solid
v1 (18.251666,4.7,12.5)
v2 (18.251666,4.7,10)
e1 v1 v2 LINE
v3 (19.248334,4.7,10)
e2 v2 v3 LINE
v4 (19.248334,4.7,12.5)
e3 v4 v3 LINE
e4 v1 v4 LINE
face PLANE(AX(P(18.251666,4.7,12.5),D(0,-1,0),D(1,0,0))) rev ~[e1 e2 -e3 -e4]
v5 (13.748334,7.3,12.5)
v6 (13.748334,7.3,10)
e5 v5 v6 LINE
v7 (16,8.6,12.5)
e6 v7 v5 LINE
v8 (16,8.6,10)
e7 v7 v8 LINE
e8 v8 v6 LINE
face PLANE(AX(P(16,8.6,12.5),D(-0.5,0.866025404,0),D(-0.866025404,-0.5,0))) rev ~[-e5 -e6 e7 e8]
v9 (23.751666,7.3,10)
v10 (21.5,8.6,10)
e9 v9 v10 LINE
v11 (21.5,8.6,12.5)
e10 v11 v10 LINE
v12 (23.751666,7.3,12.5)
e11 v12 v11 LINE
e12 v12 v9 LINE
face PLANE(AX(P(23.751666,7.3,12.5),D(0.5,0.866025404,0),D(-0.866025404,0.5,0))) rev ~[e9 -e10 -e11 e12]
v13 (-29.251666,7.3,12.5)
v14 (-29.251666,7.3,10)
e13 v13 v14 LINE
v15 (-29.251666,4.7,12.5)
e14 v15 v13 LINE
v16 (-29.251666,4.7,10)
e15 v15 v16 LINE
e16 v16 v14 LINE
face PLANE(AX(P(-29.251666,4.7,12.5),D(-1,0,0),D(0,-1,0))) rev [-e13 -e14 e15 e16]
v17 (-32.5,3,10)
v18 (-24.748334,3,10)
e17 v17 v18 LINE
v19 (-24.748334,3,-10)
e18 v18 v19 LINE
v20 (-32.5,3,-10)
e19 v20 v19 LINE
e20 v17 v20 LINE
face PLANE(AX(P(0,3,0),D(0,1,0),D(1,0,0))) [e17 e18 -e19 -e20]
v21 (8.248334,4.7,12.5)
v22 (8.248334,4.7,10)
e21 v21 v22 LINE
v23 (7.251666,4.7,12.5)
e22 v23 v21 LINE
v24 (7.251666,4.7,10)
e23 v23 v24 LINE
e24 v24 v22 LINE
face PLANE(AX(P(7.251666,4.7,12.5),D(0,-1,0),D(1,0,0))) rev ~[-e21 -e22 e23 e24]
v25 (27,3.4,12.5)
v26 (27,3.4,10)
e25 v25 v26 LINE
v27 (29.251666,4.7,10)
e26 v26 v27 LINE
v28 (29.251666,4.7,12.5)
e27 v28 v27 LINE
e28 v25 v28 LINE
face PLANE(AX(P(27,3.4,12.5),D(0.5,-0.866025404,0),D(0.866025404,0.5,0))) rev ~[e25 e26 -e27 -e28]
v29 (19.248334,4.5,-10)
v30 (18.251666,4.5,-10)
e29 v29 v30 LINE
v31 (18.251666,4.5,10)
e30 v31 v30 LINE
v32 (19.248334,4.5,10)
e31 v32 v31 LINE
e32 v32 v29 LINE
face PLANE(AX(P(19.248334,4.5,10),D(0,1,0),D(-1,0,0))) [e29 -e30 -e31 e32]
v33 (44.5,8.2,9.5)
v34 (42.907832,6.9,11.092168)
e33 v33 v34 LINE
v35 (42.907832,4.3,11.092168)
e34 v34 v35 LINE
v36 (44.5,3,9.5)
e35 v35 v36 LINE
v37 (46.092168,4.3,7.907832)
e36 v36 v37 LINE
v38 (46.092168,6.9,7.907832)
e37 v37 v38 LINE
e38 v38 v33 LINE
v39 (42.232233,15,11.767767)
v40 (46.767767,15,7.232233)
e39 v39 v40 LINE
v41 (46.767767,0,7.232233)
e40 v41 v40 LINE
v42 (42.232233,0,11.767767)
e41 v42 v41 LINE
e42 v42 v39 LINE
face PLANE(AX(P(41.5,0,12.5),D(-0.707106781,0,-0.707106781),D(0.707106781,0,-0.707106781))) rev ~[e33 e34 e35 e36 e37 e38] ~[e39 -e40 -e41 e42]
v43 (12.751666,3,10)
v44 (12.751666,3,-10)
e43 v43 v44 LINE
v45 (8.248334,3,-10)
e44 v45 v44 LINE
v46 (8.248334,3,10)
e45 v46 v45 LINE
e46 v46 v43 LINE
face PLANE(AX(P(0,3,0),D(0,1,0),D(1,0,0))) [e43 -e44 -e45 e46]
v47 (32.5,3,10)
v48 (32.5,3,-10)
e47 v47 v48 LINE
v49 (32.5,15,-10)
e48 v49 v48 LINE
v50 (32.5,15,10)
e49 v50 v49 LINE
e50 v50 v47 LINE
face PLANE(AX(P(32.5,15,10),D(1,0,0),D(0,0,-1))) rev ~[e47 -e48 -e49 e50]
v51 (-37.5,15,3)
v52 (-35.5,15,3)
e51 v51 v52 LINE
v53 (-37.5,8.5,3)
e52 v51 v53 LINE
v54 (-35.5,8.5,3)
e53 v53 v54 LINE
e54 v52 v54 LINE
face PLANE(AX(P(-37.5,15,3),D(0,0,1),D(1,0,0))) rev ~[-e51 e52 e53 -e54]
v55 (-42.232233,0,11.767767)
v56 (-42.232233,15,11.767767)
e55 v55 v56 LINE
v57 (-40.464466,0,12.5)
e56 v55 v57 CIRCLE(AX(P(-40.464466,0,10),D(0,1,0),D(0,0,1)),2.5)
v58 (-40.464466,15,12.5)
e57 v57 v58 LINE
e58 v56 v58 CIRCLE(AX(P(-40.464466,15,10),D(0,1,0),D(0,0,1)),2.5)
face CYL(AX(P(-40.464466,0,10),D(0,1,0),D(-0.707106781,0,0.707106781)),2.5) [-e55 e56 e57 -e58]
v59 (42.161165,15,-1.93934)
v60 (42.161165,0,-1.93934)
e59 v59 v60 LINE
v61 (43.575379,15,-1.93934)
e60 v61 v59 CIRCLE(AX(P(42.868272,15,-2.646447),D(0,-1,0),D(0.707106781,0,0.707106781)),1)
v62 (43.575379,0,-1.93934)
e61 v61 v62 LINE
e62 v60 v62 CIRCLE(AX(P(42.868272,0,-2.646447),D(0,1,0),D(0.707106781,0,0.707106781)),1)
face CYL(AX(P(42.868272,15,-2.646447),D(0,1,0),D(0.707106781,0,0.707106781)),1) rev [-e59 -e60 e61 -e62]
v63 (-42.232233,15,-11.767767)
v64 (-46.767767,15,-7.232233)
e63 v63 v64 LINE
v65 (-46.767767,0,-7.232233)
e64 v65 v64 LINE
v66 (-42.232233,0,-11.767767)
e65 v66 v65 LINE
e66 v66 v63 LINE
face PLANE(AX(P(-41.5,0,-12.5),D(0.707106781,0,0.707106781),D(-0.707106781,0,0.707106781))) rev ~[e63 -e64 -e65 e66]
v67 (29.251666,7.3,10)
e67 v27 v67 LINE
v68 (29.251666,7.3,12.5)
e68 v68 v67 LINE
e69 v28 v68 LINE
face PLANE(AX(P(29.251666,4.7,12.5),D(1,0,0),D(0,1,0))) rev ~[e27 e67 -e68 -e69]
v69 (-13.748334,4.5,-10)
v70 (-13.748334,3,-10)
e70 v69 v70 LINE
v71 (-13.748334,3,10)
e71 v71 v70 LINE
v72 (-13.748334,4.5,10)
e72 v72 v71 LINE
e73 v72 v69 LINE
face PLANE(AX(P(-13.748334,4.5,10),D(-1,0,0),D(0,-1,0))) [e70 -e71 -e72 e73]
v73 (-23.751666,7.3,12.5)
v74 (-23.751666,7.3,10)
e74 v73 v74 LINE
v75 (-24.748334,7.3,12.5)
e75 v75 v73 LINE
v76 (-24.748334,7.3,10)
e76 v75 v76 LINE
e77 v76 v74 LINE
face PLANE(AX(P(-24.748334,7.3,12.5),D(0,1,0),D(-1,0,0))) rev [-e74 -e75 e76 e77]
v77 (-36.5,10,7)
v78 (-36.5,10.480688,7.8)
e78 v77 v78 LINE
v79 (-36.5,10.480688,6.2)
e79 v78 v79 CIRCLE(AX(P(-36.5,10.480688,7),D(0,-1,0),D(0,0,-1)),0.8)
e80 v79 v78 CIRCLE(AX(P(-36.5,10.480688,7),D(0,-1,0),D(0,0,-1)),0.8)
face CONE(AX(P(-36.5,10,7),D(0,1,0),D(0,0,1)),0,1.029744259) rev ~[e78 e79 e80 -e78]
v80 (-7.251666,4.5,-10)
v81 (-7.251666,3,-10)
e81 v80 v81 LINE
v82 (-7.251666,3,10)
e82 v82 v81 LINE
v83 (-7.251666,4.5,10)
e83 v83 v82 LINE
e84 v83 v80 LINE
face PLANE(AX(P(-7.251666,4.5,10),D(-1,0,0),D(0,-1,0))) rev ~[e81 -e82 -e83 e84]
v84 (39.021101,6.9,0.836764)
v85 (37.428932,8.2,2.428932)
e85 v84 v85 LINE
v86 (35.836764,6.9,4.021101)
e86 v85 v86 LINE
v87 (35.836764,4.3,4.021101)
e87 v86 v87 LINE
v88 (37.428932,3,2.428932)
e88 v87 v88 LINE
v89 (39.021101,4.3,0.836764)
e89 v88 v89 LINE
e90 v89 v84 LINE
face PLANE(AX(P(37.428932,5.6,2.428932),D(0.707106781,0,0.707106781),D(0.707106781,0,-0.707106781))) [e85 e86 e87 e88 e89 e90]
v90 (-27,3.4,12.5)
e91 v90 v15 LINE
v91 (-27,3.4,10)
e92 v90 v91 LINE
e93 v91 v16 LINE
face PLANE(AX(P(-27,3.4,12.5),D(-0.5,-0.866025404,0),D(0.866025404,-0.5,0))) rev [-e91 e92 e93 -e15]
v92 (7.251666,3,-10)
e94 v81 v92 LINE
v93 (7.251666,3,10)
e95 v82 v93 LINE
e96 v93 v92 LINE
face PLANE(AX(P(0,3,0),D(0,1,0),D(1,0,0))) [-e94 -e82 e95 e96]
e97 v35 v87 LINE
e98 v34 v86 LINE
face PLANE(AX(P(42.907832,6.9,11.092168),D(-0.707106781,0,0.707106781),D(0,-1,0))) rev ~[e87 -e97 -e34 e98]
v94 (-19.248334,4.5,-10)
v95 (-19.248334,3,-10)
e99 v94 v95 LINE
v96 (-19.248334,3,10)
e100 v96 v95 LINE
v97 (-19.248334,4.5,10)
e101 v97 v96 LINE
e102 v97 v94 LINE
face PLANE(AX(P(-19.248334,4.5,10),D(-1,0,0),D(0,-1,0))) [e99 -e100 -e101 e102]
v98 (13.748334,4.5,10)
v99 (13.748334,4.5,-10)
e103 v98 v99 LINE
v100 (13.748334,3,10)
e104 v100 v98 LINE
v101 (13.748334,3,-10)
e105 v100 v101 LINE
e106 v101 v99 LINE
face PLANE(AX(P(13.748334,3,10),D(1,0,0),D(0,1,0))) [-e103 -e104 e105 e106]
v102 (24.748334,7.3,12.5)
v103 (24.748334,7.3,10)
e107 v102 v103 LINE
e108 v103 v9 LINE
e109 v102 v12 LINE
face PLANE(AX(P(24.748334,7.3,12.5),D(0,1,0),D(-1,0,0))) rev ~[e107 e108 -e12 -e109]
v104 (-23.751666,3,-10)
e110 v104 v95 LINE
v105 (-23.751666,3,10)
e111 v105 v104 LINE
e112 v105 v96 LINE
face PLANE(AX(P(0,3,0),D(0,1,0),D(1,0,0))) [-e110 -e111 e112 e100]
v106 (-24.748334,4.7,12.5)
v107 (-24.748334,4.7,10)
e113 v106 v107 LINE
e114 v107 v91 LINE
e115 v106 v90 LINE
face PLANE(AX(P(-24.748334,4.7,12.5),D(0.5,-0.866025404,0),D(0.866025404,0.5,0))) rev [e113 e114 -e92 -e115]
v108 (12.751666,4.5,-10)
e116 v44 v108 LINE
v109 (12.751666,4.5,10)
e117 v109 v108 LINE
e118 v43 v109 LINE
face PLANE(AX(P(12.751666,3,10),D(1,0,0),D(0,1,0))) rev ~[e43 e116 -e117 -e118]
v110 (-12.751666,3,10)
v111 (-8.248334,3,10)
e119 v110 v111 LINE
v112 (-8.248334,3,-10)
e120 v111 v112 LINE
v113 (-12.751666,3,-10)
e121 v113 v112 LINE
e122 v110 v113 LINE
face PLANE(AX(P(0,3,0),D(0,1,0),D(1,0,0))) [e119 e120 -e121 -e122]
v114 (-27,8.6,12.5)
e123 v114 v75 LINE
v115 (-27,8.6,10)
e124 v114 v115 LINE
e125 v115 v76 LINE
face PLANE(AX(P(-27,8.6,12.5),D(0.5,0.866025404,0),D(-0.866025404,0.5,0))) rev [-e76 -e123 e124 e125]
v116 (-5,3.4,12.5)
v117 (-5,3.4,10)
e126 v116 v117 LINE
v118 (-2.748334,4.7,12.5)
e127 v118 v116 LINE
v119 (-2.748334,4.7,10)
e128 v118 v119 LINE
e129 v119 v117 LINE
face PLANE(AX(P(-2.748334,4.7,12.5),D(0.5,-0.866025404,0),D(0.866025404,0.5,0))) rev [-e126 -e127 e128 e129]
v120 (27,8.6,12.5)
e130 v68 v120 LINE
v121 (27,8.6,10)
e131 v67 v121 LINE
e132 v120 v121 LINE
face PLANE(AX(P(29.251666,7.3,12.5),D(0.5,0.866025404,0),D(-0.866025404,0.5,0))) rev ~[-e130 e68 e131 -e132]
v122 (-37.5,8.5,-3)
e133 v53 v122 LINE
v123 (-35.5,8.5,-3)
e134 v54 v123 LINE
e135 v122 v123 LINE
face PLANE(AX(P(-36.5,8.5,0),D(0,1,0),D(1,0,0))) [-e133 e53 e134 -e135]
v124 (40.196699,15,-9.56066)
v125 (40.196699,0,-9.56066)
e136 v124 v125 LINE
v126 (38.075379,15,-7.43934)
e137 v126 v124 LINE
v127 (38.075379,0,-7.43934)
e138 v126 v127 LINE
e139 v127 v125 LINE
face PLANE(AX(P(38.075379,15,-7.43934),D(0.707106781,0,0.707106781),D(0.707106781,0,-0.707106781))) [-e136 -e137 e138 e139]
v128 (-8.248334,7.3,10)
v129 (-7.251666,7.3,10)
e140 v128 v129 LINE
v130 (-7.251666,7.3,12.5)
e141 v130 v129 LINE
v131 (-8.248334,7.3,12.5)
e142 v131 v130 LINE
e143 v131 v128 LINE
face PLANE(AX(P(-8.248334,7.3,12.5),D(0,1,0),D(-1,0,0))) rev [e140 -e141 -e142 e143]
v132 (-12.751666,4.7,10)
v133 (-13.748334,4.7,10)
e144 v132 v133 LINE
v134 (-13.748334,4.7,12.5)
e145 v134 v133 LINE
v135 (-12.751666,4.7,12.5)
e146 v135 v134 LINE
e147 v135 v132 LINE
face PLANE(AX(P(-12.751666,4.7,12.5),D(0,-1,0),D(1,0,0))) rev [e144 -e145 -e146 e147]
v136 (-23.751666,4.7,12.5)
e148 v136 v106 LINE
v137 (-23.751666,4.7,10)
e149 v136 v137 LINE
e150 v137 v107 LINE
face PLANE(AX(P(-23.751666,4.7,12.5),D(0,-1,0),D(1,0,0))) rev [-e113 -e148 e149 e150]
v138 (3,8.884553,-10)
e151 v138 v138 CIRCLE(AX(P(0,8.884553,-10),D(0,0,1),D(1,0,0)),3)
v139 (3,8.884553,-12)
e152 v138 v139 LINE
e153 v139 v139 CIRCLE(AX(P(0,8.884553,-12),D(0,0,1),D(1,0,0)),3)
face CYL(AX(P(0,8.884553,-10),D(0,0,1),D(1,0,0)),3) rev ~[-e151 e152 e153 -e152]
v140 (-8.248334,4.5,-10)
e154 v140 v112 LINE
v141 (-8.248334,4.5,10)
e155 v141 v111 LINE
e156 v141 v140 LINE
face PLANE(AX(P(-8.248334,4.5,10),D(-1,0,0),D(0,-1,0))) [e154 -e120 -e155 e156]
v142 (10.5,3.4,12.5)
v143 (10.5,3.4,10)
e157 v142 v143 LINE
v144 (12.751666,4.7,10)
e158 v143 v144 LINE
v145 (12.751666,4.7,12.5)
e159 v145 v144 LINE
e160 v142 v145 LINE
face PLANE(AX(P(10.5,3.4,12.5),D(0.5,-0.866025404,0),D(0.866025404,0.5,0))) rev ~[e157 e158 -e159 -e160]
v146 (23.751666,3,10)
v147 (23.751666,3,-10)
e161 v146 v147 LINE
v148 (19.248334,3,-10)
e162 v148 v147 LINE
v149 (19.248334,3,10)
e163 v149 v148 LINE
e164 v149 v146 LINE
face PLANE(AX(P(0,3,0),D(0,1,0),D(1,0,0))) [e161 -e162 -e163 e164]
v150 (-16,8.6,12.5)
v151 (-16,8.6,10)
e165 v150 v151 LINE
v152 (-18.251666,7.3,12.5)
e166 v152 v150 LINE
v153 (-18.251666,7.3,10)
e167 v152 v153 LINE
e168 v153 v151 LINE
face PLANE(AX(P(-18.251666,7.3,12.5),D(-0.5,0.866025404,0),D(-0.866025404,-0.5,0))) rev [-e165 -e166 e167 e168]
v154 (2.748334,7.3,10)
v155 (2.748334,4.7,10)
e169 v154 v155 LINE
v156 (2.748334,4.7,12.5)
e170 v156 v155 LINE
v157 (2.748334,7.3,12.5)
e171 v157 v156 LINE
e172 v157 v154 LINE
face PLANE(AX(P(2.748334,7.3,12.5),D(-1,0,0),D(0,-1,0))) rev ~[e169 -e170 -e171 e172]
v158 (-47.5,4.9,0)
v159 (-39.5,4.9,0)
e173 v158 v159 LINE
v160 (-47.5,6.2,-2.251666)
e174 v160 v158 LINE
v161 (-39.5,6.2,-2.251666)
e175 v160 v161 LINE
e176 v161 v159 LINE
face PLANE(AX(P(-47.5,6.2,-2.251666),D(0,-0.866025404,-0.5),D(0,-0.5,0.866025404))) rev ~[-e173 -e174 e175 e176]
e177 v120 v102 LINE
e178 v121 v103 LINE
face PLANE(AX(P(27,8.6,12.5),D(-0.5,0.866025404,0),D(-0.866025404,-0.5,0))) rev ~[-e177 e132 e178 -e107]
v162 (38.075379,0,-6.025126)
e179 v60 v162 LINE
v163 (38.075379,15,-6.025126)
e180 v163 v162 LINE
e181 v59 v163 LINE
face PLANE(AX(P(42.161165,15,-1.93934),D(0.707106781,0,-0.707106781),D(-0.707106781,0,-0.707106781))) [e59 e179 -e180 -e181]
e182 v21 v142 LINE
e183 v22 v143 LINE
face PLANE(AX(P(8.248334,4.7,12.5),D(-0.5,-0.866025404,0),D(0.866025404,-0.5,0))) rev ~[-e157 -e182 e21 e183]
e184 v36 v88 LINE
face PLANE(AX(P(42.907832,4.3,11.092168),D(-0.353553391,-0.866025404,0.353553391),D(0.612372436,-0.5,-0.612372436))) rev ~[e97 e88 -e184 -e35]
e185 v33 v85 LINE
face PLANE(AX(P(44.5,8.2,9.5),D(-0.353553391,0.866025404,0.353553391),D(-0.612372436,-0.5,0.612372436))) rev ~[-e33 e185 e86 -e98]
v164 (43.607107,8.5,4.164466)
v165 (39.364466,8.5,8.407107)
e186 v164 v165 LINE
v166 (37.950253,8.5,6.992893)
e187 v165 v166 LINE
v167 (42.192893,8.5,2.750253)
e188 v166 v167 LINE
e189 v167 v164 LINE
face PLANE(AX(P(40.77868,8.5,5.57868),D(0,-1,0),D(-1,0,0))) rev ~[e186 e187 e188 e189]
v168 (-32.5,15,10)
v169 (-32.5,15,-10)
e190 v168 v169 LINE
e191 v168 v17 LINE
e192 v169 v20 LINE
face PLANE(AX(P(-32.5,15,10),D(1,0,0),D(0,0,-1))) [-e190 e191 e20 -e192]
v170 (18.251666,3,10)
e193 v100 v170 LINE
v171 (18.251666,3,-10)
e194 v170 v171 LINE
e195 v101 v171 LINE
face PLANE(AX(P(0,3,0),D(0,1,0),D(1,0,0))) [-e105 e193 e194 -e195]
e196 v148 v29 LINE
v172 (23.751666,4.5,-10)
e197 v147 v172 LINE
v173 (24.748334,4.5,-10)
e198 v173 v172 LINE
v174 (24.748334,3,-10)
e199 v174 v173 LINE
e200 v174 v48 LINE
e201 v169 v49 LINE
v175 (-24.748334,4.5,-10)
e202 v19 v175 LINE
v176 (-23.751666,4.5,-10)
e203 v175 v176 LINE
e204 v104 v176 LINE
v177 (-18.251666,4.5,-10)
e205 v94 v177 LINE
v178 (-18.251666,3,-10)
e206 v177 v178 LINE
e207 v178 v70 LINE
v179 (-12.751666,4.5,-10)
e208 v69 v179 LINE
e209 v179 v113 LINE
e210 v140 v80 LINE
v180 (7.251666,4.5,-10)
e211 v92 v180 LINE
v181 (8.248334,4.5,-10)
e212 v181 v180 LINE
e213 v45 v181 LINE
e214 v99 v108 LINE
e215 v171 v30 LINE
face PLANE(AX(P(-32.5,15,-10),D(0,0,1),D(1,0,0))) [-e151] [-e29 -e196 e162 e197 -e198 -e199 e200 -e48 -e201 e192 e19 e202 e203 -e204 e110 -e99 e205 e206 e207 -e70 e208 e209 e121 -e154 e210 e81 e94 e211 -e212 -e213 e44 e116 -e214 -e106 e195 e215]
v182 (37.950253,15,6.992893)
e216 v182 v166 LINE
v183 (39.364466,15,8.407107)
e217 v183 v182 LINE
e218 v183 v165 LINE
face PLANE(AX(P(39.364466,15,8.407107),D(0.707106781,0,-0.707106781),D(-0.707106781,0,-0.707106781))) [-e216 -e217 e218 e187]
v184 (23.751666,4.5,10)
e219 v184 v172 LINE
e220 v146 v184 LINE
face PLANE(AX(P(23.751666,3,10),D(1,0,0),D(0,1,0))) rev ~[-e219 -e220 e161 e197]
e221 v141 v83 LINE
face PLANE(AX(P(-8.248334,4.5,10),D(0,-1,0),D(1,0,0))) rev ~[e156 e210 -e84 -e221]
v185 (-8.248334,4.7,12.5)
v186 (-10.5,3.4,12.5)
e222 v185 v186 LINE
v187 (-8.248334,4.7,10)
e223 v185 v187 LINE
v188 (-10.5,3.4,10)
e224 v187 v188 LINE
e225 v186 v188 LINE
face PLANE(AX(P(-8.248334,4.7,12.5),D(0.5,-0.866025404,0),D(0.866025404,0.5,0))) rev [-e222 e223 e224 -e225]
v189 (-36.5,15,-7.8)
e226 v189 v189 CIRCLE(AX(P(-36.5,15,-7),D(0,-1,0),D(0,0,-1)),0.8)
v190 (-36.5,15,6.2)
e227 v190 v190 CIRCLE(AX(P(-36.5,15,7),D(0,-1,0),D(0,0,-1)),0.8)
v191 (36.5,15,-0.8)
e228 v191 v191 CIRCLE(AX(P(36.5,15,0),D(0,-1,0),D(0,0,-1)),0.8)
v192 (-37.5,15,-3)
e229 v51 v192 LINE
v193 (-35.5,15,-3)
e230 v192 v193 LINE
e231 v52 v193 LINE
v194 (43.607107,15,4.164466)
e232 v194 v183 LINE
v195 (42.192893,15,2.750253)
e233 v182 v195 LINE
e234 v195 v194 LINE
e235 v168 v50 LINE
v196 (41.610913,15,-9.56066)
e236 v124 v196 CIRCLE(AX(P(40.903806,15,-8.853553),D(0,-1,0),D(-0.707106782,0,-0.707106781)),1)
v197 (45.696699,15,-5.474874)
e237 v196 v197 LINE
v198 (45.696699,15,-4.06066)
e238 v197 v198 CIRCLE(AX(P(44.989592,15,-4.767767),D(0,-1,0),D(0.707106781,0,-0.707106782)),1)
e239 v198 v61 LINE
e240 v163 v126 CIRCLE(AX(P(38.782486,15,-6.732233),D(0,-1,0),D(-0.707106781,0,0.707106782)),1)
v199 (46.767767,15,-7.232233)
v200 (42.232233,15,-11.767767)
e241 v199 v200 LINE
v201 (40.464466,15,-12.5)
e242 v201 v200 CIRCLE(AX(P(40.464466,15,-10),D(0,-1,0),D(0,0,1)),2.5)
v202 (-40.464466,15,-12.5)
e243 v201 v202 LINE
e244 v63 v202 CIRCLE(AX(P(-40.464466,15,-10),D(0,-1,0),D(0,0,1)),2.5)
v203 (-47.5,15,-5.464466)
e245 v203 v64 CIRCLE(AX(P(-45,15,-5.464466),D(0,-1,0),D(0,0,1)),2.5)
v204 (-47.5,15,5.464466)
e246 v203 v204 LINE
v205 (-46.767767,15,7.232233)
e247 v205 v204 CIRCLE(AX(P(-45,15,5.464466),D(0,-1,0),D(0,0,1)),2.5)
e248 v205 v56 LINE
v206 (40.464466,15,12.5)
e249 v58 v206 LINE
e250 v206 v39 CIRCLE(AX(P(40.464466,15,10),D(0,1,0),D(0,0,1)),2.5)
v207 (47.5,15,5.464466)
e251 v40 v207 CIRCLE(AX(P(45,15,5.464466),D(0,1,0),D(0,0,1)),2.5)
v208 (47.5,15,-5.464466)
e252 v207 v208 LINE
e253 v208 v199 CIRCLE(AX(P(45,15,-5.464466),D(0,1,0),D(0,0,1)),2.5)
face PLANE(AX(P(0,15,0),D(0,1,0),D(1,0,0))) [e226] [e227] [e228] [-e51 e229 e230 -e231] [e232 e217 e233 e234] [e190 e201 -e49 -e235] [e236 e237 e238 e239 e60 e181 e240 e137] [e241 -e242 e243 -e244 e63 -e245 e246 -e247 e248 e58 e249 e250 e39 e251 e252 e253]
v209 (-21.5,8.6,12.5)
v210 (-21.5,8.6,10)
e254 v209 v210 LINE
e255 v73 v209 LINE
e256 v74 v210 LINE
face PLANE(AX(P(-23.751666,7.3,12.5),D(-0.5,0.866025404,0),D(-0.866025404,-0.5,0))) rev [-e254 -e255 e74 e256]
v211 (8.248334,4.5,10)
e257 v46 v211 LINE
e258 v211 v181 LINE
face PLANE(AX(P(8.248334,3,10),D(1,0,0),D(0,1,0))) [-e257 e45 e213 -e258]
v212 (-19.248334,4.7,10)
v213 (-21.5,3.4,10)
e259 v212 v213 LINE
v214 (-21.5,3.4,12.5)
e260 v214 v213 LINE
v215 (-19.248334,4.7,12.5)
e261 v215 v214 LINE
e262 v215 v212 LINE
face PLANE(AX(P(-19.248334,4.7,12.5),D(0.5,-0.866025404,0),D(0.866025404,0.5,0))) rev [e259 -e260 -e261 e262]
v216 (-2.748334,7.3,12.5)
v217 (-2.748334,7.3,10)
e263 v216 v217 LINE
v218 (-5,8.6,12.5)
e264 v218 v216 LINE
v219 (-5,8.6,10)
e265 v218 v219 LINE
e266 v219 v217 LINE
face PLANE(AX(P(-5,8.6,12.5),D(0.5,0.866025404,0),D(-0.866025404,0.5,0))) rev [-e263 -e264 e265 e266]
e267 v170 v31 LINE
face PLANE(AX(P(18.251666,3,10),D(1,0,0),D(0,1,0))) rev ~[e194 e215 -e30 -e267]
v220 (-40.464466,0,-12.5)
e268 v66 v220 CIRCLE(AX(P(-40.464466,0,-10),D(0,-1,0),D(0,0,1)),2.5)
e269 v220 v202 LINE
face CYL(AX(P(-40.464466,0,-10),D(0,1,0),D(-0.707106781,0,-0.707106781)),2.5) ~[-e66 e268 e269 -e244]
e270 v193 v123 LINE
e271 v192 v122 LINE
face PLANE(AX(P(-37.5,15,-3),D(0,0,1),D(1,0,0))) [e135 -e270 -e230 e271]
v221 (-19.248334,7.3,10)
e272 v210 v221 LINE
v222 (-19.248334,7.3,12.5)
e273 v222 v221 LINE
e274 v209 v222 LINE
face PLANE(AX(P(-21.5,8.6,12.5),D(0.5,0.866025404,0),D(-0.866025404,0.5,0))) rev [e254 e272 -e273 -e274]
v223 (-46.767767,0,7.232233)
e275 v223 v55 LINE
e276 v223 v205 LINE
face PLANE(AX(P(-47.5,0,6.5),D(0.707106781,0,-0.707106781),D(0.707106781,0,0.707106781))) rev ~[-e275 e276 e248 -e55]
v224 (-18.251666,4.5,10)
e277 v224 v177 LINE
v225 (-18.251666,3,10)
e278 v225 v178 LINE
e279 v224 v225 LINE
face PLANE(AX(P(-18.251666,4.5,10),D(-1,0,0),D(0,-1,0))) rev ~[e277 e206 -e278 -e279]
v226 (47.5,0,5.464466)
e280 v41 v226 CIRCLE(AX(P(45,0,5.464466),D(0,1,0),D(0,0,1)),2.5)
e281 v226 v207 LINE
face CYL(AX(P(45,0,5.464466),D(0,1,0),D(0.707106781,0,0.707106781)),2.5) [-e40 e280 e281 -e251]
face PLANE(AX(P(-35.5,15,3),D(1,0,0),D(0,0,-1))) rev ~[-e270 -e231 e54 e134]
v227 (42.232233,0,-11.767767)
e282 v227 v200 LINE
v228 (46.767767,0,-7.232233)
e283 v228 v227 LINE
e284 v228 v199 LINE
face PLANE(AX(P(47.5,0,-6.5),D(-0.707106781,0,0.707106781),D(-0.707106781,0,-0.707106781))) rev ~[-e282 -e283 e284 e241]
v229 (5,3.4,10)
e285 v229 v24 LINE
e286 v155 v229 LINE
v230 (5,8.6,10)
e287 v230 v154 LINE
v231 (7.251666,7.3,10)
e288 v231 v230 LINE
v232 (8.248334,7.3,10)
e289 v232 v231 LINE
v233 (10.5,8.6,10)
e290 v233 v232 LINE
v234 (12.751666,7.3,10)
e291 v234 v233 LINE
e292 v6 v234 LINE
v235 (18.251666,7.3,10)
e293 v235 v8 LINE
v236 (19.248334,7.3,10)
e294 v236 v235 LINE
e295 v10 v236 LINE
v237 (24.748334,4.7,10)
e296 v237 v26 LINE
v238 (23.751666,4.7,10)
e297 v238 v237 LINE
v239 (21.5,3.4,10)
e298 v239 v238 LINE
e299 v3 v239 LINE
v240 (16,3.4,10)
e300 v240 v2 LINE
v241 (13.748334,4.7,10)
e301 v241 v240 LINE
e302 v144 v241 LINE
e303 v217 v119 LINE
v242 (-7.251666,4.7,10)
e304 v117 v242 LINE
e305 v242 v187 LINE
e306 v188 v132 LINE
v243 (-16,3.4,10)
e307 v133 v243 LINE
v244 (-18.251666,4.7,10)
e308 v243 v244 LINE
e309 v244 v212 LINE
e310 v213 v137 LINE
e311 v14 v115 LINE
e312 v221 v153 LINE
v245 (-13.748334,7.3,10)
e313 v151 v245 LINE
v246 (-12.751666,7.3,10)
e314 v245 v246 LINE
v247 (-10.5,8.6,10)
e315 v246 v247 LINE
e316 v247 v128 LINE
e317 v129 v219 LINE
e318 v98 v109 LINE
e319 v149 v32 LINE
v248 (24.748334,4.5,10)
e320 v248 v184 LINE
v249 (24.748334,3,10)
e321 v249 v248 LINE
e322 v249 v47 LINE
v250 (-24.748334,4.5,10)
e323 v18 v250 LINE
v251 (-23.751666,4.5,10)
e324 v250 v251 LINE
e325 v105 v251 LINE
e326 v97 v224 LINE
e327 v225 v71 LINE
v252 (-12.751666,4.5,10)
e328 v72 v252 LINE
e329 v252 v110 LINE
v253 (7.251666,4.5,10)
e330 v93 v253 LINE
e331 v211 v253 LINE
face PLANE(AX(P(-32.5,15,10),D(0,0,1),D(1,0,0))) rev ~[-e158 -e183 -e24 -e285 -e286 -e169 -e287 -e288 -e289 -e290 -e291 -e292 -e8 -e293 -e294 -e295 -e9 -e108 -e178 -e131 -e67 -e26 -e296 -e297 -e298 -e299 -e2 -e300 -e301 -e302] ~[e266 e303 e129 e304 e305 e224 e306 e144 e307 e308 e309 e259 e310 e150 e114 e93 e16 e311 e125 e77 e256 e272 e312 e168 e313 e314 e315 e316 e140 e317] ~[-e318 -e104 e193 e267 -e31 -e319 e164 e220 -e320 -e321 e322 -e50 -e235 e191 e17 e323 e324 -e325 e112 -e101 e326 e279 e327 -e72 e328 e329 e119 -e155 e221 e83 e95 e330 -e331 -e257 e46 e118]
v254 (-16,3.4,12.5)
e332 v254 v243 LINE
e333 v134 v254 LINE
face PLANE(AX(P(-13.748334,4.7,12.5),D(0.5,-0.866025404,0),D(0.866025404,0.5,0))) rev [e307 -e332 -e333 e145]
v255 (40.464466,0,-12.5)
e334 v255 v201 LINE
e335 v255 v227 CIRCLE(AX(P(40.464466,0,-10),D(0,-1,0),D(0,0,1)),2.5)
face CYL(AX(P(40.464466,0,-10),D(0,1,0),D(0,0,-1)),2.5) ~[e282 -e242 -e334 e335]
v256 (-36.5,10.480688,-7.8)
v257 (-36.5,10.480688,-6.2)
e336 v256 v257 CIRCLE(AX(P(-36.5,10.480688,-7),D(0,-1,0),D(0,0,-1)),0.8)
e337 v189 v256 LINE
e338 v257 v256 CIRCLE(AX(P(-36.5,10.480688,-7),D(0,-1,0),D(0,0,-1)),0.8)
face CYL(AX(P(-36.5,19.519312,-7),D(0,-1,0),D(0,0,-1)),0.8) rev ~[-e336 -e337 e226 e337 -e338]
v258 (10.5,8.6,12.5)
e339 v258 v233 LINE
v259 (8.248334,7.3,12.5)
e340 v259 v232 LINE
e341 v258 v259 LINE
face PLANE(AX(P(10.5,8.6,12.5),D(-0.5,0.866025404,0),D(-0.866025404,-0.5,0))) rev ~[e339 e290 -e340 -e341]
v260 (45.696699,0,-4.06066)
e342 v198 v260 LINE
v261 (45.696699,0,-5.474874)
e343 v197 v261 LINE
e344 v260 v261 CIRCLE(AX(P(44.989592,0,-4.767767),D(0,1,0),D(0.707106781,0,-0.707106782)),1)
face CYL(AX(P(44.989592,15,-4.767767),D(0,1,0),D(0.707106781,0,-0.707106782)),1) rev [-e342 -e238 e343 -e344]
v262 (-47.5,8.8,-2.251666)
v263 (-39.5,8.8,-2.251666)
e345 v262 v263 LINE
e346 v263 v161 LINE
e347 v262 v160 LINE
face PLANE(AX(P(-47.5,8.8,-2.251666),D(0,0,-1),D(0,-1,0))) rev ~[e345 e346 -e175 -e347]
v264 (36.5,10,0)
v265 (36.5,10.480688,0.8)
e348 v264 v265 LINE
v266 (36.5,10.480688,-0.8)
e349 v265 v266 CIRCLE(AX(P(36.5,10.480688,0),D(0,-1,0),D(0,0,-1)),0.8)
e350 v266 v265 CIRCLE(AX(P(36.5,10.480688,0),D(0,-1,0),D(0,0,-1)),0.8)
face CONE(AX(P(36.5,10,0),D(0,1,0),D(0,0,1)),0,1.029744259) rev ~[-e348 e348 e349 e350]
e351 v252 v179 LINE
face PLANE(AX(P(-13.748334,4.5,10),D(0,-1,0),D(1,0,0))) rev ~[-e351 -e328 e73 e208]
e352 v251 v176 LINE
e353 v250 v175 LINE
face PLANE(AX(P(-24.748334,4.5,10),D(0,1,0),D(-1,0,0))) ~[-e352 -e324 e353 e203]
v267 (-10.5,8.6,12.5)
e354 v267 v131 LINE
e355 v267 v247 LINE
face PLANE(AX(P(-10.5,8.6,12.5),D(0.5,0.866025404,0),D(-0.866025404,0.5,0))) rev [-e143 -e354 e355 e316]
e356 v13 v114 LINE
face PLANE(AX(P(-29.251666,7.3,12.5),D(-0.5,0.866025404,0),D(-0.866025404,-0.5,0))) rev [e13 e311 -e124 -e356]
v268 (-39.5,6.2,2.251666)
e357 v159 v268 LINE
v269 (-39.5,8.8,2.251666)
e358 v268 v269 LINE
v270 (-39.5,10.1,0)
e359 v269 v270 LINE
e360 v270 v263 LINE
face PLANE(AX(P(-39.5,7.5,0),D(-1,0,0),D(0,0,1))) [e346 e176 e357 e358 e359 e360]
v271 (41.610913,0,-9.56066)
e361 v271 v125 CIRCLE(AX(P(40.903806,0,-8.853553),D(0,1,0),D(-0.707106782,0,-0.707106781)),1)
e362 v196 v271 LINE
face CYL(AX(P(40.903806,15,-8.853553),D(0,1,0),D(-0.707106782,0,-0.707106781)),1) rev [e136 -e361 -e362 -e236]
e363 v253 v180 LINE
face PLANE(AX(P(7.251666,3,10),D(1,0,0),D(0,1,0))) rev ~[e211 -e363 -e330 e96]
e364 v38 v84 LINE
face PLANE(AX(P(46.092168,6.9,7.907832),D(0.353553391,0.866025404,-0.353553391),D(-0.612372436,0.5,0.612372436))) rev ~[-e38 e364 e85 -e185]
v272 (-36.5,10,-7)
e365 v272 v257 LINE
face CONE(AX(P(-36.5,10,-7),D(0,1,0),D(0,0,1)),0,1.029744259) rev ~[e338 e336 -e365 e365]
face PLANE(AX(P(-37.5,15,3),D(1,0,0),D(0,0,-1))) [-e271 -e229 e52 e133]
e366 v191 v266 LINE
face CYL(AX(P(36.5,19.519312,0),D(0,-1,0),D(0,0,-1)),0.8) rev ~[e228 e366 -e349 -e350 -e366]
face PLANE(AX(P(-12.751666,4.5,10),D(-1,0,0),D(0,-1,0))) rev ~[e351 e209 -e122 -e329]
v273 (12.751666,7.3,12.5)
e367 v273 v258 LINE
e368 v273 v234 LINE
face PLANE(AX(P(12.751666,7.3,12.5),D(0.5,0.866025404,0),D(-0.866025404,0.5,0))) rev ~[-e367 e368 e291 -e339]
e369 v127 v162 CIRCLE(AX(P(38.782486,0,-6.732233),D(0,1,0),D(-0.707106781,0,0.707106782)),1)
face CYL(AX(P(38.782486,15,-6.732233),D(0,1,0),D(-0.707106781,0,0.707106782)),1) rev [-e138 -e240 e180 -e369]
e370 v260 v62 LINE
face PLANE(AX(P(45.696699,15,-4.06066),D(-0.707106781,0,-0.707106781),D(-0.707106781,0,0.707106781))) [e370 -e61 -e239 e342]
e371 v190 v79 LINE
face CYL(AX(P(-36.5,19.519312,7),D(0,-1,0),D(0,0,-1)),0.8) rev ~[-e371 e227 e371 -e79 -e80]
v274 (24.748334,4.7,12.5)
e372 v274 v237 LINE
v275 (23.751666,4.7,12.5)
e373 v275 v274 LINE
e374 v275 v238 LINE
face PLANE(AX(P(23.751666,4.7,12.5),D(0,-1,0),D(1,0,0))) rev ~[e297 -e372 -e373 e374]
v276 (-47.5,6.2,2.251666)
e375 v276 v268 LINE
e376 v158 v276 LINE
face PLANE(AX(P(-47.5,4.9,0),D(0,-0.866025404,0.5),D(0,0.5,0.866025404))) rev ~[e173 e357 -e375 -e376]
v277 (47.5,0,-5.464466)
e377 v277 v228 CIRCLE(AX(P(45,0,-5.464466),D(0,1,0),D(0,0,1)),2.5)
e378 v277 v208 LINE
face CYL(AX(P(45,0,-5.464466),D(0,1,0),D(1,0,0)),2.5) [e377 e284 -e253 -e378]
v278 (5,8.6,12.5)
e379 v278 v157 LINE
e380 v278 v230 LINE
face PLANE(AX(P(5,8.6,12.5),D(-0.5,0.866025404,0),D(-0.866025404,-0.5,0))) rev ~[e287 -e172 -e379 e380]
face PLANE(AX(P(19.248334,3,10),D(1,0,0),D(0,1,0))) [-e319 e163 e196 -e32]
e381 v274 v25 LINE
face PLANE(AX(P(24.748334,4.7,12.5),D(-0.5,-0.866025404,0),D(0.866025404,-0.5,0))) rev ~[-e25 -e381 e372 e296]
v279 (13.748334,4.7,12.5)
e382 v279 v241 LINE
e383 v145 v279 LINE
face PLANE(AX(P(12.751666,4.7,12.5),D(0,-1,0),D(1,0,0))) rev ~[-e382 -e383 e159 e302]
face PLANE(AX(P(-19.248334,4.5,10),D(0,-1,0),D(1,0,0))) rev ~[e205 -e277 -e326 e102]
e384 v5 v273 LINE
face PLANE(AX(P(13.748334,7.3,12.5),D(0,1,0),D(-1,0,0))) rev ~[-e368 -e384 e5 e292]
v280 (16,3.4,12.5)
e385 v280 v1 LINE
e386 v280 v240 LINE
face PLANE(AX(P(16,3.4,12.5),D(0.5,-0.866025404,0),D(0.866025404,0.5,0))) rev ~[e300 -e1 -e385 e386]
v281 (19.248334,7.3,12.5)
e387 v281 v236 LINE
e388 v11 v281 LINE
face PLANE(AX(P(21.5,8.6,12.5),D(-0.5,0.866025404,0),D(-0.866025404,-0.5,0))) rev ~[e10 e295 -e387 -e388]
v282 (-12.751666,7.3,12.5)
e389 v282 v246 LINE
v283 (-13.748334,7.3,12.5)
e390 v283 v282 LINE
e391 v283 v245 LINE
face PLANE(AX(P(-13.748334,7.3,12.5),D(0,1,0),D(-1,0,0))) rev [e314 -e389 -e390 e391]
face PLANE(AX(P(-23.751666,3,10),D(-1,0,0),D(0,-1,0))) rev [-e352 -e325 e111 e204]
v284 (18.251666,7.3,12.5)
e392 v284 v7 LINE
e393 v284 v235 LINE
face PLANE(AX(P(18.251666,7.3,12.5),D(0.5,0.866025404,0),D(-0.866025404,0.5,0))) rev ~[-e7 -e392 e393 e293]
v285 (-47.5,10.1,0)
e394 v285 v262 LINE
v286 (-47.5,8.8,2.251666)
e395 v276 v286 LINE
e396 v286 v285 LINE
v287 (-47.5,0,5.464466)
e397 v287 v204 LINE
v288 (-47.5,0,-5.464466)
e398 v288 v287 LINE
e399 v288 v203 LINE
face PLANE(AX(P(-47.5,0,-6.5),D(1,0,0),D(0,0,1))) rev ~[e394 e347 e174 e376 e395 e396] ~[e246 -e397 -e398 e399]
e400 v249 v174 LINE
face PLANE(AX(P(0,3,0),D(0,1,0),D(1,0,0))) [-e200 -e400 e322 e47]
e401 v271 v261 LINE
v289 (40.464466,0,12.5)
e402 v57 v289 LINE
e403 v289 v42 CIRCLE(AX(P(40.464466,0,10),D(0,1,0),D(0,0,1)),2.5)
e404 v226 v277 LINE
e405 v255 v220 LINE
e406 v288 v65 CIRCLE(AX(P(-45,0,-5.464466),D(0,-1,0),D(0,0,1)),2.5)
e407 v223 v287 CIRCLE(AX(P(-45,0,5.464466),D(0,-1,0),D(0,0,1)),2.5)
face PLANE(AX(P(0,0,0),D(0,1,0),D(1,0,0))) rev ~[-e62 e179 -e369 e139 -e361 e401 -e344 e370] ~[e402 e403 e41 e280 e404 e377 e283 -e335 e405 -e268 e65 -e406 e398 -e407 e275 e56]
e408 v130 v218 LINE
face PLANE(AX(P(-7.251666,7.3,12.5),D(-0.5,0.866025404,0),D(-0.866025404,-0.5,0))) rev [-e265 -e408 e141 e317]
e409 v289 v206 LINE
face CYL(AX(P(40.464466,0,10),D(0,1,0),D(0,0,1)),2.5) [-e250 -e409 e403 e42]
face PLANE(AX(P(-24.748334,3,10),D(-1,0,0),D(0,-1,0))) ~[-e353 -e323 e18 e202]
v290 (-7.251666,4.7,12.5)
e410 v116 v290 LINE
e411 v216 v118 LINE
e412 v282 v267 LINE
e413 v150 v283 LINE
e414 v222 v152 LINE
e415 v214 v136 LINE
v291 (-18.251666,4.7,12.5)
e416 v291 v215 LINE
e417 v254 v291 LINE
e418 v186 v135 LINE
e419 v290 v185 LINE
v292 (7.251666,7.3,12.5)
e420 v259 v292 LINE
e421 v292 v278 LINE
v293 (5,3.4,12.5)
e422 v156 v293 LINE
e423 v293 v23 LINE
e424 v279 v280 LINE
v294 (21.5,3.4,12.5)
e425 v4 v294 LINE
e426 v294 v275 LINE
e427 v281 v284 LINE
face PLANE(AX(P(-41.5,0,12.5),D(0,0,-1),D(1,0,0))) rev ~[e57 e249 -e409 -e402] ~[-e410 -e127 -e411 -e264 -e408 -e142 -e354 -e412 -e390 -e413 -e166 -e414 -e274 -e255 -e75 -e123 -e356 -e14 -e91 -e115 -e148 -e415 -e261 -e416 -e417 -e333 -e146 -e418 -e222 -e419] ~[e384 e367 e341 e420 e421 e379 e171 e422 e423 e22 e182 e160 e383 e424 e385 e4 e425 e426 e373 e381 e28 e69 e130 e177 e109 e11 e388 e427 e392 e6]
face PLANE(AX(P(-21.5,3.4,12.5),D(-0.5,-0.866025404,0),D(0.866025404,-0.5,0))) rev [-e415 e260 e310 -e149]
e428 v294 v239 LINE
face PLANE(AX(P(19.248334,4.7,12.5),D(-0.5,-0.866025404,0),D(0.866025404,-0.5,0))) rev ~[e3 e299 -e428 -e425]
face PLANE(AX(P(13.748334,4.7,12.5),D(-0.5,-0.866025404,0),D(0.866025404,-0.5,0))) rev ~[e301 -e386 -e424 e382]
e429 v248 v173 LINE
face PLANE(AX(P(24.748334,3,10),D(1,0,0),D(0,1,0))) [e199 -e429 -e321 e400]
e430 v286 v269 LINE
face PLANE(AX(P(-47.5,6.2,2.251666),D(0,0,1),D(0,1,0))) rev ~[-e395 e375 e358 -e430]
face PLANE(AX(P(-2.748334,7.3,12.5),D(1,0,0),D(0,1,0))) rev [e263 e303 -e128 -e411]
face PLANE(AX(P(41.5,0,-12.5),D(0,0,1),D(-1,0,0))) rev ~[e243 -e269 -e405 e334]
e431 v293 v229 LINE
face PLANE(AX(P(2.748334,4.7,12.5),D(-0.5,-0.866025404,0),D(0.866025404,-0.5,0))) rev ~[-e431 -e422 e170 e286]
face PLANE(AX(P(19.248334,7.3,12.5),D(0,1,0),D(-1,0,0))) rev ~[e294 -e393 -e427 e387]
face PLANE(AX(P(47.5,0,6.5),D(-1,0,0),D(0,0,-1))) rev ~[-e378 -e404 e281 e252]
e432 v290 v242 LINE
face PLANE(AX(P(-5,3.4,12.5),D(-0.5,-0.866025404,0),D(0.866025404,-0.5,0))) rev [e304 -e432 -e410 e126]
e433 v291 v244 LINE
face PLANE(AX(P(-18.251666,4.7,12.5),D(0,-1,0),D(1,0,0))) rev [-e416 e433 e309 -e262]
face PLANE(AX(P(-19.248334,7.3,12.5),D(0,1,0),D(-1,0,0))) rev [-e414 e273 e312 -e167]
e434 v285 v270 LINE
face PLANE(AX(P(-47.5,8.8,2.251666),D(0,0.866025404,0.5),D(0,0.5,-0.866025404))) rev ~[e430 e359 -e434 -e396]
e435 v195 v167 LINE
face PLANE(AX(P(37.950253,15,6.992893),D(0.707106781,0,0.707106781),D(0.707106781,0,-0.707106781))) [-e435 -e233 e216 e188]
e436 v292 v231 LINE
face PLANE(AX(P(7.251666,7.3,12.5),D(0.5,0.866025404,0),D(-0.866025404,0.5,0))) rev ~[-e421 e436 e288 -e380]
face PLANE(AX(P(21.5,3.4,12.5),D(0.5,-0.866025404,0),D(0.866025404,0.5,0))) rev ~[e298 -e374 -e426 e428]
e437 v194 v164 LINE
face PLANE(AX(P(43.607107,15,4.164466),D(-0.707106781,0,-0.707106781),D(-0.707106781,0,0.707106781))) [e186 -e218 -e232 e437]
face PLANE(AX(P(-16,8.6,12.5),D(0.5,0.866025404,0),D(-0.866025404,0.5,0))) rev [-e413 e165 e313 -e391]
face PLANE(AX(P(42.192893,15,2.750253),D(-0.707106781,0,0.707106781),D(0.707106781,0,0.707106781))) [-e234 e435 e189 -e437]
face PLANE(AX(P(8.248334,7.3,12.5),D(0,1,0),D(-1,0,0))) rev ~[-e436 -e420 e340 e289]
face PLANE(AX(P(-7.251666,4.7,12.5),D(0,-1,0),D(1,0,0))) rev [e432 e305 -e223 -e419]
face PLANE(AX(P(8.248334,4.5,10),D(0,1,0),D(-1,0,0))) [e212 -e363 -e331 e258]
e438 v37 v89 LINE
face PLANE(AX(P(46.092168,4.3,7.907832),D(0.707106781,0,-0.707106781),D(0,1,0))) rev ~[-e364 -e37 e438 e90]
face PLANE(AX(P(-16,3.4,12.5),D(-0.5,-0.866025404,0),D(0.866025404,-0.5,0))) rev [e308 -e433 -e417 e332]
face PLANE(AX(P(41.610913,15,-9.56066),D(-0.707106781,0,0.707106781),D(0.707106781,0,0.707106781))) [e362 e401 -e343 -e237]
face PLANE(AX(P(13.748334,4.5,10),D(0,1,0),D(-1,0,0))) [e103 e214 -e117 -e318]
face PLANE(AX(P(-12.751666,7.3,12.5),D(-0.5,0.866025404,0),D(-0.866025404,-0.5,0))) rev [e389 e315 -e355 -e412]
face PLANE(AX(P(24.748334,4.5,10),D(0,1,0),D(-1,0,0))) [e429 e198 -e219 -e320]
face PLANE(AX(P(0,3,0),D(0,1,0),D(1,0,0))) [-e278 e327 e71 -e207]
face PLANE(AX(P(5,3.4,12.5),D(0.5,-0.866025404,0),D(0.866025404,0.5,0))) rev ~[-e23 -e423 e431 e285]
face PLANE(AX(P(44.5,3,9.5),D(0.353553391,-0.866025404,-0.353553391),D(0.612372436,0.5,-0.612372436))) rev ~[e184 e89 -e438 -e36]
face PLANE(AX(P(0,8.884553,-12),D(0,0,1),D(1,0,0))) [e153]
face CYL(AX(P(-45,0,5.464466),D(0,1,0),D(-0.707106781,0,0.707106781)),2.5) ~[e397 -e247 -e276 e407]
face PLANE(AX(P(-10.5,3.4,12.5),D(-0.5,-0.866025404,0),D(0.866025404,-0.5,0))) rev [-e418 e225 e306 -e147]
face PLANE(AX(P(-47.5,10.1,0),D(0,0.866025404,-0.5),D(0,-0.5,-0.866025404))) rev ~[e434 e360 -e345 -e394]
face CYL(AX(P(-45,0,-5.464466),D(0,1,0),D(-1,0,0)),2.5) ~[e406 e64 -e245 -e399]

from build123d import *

# Parameters (mm, degrees)
BOSS_EXTRUDE1_DEPTH     = 15
SKETCH3_W               = 65
SKETCH3_H               = 20
CUT_EXTRUDE2_DEPTH      = 12
CUT_EXTRUDE4_DEPTH      = 52.35659646
M2_TAPPED_HOLE1_D       = 1.6
M2_TAPPED_HOLE1_DEPTH   = 4.519311505
M2_TAPPED_HOLE1_TIP     = 0.480688495
FILLET4_R               = 2.5
SKETCH15_R              = 3
CUT_EXTRUDE10_DEPTH     = 2
CUT_EXTRUDE11_DEPTH     = 8
CUT_EXTRUDE12_DEPTH     = 10
CUT_EXTRUDE13_DEPTH     = 10
SKETCH19_W              = 0.9966679
SKETCH19_H              = 1.5
BOSS_EXTRUDE2_DEPTH     = 20
LPATTERN1_COUNT         = 4
LPATTERN1_PITCH         = 5.5
MIRROR2_COPY_1_SKETCH_W = 0.9966679
MIRROR2_COPY_1_SKETCH_H = 1.5
MIRROR2_COPY_1_DEPTH    = 20
MIRROR2_COPY_2_SKETCH_W = 0.9966679
MIRROR2_COPY_2_SKETCH_H = 1.5
MIRROR2_COPY_2_DEPTH    = 20
MIRROR2_COPY_3_SKETCH_W = 0.9966679
MIRROR2_COPY_3_SKETCH_H = 1.5
MIRROR2_COPY_3_DEPTH    = 20
SKETCH20_W              = 2
SKETCH20_H              = 6
CUT_EXTRUDE14_DEPTH     = 6.5


with BuildPart() as part:
    # Sketch1 → Boss-Extrude1 (new body)
    with BuildSketch(Plane(origin=(0, 0, 0), x_dir=(1, 0, 0), z_dir=(0, 1, 0))):
        Polygon((-47.5, -6.5), (-41.5, -12.5), (41.5, -12.5), (47.5, -6.5), (47.5, 6.5), (41.5, 12.5), (-41.5, 12.5), (-47.5, 6.5), align=None)
    extrude(amount=BOSS_EXTRUDE1_DEPTH)

    # Sketch3 → Cut-Extrude2 (cut)
    with BuildSketch(Plane(origin=(0, 15, 0), x_dir=(1, 0, 0), z_dir=(0, 1, 0))):
        Rectangle(SKETCH3_W, SKETCH3_H)
    extrude(amount=-CUT_EXTRUDE2_DEPTH, mode=Mode.SUBTRACT)

    # Sketch4 → Cut-Extrude4 (cut, through all)
    with BuildSketch(Plane(origin=(0, 15, 0), x_dir=(1, 0, 0), z_dir=(0, 1, 0))):
        with BuildLine():
            Line((41.610912703, 9.560660172), (45.696699141, 5.474873734))
            ThreePointArc((45.696699141, 5.474873734), (45.98959236, 4.767766953), (45.696699141, 4.060660172))
            Line((45.696699141, 4.060660172), (43.575378798, 1.939339828))
            ThreePointArc((43.575378798, 1.939339828), (42.868272016, 1.646446609), (42.161165235, 1.939339828))
            Line((42.161165235, 1.939339828), (38.075378798, 6.025126266))
            ThreePointArc((38.075378798, 6.025126266), (37.782485579, 6.732233047), (38.075378798, 7.439339828))
            Line((38.075378798, 7.439339828), (40.196699141, 9.560660172))
            ThreePointArc((40.196699141, 9.560660172), (40.903805922, 9.853553391), (41.610912703, 9.560660172))
        make_face()
    extrude(amount=-CUT_EXTRUDE4_DEPTH, mode=Mode.SUBTRACT)

    # M2 Tapped Hole1
    with Locations(Plane(origin=(-36.5, 15, 7), x_dir=(0, 0, 1), z_dir=(0, 1, 0))):
        with Locations((0, 0), (-14, 0), (-7, 73)):
            Hole(M2_TAPPED_HOLE1_D / 2, depth=M2_TAPPED_HOLE1_DEPTH)
            with Locations((0, 0, -(M2_TAPPED_HOLE1_DEPTH + M2_TAPPED_HOLE1_TIP / 2))):  # 118° drill point
                Cone(0, M2_TAPPED_HOLE1_D / 2, M2_TAPPED_HOLE1_TIP, mode=Mode.SUBTRACT)

    # Fillet4
    fillet4_edges = [part.edges().sort_by_distance(p)[0] for p in [
        (-47.5, 7.5, -6.5),
        (-41.5, 7.5, -12.5),
        (41.5, 7.5, -12.5),
        (47.5, 7.5, -6.5),
        (47.5, 7.5, 6.5),
        (41.5, 7.5, 12.5),
        (-41.5, 7.5, 12.5),
        (-47.5, 7.5, 6.5),
    ]]
    fillet(fillet4_edges, radius=FILLET4_R)

    # Sketch15 → Cut-Extrude10 (cut)
    with BuildSketch(Plane.XY.offset(-10)):
        with Locations((0, 8.884553107)):
            Circle(SKETCH15_R)
    extrude(amount=-CUT_EXTRUDE10_DEPTH, mode=Mode.SUBTRACT)

    # Sketch16 → Cut-Extrude11 (cut)
    with BuildSketch(Plane.ZY.offset(47.5)):
        Polygon((0, 10.1), (-2.25166605, 8.8), (-2.25166605, 6.2), (0, 4.9), (2.25166605, 6.2), (2.25166605, 8.8), align=None)
    extrude(amount=-CUT_EXTRUDE11_DEPTH, mode=Mode.SUBTRACT)

    # Sketch5 → Cut-Extrude12 (cut)
    with BuildSketch(Plane(origin=(27, 0, 27), x_dir=(0.7071067811865469, 0, -0.7071067811865481), z_dir=(0.7071067811865481, 0, 0.7071067811865469))):
        Polygon((24.748737342, 8.2), (22.497071292, 6.9), (22.497071292, 4.3), (24.748737342, 3), (27.000403391, 4.3), (27.000403391, 6.9), align=None)
    extrude(amount=-CUT_EXTRUDE12_DEPTH, mode=Mode.SUBTRACT)

    # Sketch17 → Cut-Extrude13 (cut)
    with BuildSketch(Plane.XY.offset(12.5)):
        Polygon((8.24833395, 7.3), (7.25166605, 7.3), (5, 8.6), (2.74833395, 7.3), (2.74833395, 4.7), (5, 3.4), (7.25166605, 4.7), (8.24833395, 4.7), (10.5, 3.4), (12.75166605, 4.7), (13.74833395, 4.7), (16, 3.4), (18.25166605, 4.7), (19.24833395, 4.7), (21.5, 3.4), (23.75166605, 4.7), (24.74833395, 4.7), (27, 3.4), (29.25166605, 4.7), (29.25166605, 7.3), (27, 8.6), (24.74833395, 7.3), (23.75166605, 7.3), (21.5, 8.6), (19.24833395, 7.3), (18.25166605, 7.3), (16, 8.6), (13.74833395, 7.3), (12.75166605, 7.3), (10.5, 8.6), align=None)
    cut_extrude13 = extrude(amount=-CUT_EXTRUDE13_DEPTH, mode=Mode.SUBTRACT)

    # Mirror1: Cut-Extrude13 across plane
    add(cut_extrude13.mirror(Plane(origin=(0, 0, 0), x_dir=(0, 0, 1), z_dir=(1, 0, 0))), mode=Mode.SUBTRACT)

    # Sketch19 → Boss-Extrude2 (add)
    with BuildSketch(Plane(origin=(0, 0, 10), x_dir=(-1, 0, 0), z_dir=(0, 0, -1))):
        with Locations((-24.25, 3.75)):
            Rectangle(SKETCH19_W, SKETCH19_H)
    boss_extrude2 = extrude(amount=BOSS_EXTRUDE2_DEPTH)

    # LPattern1: Boss-Extrude2 ×4
    with Locations(*[(-i * LPATTERN1_PITCH, 0, 0) for i in range(1, LPATTERN1_COUNT)]):
        add(boss_extrude2)

    # Mirror2: Boss-Extrude2 across plane
    add(boss_extrude2.mirror(Plane(origin=(0, 0, 0), x_dir=(0, 0, 1), z_dir=(1, 0, 0))))

    # Mirror2 copy 1 sketch → Mirror2 copy 1 (add)
    with BuildSketch(Plane(origin=(5.5, 0, 10), x_dir=(1, 0, 0), z_dir=(0, 0, -1))):
        with Locations((-24.25, -3.75)):
            Rectangle(MIRROR2_COPY_1_SKETCH_W, MIRROR2_COPY_1_SKETCH_H)
    extrude(amount=MIRROR2_COPY_1_DEPTH)

    # Mirror2 copy 2 sketch → Mirror2 copy 2 (add)
    with BuildSketch(Plane(origin=(11, 0, 10), x_dir=(1, 0, 0), z_dir=(0, 0, -1))):
        with Locations((-24.25, -3.75)):
            Rectangle(MIRROR2_COPY_2_SKETCH_W, MIRROR2_COPY_2_SKETCH_H)
    extrude(amount=MIRROR2_COPY_2_DEPTH)

    # Mirror2 copy 3 sketch → Mirror2 copy 3 (add)
    with BuildSketch(Plane(origin=(16.5, 0, 10), x_dir=(1, 0, 0), z_dir=(0, 0, -1))):
        with Locations((-24.25, -3.75)):
            Rectangle(MIRROR2_COPY_3_SKETCH_W, MIRROR2_COPY_3_SKETCH_H)
    extrude(amount=MIRROR2_COPY_3_DEPTH)

    # Sketch20 → Cut-Extrude14 (cut)
    with BuildSketch(Plane(origin=(0, 15, 0), x_dir=(1, 0, 0), z_dir=(0, 1, 0))):
        Polygon((39.364466094, -8.407106781), (37.950252532, -6.992893219), (42.192893219, -2.750252532), (43.607106781, -4.164466094), align=None)
        with Locations((-36.5, 0)):
            Rectangle(SKETCH20_W, SKETCH20_H)
    extrude(amount=-CUT_EXTRUDE14_DEPTH, mode=Mode.SUBTRACT)


solid = part.part
